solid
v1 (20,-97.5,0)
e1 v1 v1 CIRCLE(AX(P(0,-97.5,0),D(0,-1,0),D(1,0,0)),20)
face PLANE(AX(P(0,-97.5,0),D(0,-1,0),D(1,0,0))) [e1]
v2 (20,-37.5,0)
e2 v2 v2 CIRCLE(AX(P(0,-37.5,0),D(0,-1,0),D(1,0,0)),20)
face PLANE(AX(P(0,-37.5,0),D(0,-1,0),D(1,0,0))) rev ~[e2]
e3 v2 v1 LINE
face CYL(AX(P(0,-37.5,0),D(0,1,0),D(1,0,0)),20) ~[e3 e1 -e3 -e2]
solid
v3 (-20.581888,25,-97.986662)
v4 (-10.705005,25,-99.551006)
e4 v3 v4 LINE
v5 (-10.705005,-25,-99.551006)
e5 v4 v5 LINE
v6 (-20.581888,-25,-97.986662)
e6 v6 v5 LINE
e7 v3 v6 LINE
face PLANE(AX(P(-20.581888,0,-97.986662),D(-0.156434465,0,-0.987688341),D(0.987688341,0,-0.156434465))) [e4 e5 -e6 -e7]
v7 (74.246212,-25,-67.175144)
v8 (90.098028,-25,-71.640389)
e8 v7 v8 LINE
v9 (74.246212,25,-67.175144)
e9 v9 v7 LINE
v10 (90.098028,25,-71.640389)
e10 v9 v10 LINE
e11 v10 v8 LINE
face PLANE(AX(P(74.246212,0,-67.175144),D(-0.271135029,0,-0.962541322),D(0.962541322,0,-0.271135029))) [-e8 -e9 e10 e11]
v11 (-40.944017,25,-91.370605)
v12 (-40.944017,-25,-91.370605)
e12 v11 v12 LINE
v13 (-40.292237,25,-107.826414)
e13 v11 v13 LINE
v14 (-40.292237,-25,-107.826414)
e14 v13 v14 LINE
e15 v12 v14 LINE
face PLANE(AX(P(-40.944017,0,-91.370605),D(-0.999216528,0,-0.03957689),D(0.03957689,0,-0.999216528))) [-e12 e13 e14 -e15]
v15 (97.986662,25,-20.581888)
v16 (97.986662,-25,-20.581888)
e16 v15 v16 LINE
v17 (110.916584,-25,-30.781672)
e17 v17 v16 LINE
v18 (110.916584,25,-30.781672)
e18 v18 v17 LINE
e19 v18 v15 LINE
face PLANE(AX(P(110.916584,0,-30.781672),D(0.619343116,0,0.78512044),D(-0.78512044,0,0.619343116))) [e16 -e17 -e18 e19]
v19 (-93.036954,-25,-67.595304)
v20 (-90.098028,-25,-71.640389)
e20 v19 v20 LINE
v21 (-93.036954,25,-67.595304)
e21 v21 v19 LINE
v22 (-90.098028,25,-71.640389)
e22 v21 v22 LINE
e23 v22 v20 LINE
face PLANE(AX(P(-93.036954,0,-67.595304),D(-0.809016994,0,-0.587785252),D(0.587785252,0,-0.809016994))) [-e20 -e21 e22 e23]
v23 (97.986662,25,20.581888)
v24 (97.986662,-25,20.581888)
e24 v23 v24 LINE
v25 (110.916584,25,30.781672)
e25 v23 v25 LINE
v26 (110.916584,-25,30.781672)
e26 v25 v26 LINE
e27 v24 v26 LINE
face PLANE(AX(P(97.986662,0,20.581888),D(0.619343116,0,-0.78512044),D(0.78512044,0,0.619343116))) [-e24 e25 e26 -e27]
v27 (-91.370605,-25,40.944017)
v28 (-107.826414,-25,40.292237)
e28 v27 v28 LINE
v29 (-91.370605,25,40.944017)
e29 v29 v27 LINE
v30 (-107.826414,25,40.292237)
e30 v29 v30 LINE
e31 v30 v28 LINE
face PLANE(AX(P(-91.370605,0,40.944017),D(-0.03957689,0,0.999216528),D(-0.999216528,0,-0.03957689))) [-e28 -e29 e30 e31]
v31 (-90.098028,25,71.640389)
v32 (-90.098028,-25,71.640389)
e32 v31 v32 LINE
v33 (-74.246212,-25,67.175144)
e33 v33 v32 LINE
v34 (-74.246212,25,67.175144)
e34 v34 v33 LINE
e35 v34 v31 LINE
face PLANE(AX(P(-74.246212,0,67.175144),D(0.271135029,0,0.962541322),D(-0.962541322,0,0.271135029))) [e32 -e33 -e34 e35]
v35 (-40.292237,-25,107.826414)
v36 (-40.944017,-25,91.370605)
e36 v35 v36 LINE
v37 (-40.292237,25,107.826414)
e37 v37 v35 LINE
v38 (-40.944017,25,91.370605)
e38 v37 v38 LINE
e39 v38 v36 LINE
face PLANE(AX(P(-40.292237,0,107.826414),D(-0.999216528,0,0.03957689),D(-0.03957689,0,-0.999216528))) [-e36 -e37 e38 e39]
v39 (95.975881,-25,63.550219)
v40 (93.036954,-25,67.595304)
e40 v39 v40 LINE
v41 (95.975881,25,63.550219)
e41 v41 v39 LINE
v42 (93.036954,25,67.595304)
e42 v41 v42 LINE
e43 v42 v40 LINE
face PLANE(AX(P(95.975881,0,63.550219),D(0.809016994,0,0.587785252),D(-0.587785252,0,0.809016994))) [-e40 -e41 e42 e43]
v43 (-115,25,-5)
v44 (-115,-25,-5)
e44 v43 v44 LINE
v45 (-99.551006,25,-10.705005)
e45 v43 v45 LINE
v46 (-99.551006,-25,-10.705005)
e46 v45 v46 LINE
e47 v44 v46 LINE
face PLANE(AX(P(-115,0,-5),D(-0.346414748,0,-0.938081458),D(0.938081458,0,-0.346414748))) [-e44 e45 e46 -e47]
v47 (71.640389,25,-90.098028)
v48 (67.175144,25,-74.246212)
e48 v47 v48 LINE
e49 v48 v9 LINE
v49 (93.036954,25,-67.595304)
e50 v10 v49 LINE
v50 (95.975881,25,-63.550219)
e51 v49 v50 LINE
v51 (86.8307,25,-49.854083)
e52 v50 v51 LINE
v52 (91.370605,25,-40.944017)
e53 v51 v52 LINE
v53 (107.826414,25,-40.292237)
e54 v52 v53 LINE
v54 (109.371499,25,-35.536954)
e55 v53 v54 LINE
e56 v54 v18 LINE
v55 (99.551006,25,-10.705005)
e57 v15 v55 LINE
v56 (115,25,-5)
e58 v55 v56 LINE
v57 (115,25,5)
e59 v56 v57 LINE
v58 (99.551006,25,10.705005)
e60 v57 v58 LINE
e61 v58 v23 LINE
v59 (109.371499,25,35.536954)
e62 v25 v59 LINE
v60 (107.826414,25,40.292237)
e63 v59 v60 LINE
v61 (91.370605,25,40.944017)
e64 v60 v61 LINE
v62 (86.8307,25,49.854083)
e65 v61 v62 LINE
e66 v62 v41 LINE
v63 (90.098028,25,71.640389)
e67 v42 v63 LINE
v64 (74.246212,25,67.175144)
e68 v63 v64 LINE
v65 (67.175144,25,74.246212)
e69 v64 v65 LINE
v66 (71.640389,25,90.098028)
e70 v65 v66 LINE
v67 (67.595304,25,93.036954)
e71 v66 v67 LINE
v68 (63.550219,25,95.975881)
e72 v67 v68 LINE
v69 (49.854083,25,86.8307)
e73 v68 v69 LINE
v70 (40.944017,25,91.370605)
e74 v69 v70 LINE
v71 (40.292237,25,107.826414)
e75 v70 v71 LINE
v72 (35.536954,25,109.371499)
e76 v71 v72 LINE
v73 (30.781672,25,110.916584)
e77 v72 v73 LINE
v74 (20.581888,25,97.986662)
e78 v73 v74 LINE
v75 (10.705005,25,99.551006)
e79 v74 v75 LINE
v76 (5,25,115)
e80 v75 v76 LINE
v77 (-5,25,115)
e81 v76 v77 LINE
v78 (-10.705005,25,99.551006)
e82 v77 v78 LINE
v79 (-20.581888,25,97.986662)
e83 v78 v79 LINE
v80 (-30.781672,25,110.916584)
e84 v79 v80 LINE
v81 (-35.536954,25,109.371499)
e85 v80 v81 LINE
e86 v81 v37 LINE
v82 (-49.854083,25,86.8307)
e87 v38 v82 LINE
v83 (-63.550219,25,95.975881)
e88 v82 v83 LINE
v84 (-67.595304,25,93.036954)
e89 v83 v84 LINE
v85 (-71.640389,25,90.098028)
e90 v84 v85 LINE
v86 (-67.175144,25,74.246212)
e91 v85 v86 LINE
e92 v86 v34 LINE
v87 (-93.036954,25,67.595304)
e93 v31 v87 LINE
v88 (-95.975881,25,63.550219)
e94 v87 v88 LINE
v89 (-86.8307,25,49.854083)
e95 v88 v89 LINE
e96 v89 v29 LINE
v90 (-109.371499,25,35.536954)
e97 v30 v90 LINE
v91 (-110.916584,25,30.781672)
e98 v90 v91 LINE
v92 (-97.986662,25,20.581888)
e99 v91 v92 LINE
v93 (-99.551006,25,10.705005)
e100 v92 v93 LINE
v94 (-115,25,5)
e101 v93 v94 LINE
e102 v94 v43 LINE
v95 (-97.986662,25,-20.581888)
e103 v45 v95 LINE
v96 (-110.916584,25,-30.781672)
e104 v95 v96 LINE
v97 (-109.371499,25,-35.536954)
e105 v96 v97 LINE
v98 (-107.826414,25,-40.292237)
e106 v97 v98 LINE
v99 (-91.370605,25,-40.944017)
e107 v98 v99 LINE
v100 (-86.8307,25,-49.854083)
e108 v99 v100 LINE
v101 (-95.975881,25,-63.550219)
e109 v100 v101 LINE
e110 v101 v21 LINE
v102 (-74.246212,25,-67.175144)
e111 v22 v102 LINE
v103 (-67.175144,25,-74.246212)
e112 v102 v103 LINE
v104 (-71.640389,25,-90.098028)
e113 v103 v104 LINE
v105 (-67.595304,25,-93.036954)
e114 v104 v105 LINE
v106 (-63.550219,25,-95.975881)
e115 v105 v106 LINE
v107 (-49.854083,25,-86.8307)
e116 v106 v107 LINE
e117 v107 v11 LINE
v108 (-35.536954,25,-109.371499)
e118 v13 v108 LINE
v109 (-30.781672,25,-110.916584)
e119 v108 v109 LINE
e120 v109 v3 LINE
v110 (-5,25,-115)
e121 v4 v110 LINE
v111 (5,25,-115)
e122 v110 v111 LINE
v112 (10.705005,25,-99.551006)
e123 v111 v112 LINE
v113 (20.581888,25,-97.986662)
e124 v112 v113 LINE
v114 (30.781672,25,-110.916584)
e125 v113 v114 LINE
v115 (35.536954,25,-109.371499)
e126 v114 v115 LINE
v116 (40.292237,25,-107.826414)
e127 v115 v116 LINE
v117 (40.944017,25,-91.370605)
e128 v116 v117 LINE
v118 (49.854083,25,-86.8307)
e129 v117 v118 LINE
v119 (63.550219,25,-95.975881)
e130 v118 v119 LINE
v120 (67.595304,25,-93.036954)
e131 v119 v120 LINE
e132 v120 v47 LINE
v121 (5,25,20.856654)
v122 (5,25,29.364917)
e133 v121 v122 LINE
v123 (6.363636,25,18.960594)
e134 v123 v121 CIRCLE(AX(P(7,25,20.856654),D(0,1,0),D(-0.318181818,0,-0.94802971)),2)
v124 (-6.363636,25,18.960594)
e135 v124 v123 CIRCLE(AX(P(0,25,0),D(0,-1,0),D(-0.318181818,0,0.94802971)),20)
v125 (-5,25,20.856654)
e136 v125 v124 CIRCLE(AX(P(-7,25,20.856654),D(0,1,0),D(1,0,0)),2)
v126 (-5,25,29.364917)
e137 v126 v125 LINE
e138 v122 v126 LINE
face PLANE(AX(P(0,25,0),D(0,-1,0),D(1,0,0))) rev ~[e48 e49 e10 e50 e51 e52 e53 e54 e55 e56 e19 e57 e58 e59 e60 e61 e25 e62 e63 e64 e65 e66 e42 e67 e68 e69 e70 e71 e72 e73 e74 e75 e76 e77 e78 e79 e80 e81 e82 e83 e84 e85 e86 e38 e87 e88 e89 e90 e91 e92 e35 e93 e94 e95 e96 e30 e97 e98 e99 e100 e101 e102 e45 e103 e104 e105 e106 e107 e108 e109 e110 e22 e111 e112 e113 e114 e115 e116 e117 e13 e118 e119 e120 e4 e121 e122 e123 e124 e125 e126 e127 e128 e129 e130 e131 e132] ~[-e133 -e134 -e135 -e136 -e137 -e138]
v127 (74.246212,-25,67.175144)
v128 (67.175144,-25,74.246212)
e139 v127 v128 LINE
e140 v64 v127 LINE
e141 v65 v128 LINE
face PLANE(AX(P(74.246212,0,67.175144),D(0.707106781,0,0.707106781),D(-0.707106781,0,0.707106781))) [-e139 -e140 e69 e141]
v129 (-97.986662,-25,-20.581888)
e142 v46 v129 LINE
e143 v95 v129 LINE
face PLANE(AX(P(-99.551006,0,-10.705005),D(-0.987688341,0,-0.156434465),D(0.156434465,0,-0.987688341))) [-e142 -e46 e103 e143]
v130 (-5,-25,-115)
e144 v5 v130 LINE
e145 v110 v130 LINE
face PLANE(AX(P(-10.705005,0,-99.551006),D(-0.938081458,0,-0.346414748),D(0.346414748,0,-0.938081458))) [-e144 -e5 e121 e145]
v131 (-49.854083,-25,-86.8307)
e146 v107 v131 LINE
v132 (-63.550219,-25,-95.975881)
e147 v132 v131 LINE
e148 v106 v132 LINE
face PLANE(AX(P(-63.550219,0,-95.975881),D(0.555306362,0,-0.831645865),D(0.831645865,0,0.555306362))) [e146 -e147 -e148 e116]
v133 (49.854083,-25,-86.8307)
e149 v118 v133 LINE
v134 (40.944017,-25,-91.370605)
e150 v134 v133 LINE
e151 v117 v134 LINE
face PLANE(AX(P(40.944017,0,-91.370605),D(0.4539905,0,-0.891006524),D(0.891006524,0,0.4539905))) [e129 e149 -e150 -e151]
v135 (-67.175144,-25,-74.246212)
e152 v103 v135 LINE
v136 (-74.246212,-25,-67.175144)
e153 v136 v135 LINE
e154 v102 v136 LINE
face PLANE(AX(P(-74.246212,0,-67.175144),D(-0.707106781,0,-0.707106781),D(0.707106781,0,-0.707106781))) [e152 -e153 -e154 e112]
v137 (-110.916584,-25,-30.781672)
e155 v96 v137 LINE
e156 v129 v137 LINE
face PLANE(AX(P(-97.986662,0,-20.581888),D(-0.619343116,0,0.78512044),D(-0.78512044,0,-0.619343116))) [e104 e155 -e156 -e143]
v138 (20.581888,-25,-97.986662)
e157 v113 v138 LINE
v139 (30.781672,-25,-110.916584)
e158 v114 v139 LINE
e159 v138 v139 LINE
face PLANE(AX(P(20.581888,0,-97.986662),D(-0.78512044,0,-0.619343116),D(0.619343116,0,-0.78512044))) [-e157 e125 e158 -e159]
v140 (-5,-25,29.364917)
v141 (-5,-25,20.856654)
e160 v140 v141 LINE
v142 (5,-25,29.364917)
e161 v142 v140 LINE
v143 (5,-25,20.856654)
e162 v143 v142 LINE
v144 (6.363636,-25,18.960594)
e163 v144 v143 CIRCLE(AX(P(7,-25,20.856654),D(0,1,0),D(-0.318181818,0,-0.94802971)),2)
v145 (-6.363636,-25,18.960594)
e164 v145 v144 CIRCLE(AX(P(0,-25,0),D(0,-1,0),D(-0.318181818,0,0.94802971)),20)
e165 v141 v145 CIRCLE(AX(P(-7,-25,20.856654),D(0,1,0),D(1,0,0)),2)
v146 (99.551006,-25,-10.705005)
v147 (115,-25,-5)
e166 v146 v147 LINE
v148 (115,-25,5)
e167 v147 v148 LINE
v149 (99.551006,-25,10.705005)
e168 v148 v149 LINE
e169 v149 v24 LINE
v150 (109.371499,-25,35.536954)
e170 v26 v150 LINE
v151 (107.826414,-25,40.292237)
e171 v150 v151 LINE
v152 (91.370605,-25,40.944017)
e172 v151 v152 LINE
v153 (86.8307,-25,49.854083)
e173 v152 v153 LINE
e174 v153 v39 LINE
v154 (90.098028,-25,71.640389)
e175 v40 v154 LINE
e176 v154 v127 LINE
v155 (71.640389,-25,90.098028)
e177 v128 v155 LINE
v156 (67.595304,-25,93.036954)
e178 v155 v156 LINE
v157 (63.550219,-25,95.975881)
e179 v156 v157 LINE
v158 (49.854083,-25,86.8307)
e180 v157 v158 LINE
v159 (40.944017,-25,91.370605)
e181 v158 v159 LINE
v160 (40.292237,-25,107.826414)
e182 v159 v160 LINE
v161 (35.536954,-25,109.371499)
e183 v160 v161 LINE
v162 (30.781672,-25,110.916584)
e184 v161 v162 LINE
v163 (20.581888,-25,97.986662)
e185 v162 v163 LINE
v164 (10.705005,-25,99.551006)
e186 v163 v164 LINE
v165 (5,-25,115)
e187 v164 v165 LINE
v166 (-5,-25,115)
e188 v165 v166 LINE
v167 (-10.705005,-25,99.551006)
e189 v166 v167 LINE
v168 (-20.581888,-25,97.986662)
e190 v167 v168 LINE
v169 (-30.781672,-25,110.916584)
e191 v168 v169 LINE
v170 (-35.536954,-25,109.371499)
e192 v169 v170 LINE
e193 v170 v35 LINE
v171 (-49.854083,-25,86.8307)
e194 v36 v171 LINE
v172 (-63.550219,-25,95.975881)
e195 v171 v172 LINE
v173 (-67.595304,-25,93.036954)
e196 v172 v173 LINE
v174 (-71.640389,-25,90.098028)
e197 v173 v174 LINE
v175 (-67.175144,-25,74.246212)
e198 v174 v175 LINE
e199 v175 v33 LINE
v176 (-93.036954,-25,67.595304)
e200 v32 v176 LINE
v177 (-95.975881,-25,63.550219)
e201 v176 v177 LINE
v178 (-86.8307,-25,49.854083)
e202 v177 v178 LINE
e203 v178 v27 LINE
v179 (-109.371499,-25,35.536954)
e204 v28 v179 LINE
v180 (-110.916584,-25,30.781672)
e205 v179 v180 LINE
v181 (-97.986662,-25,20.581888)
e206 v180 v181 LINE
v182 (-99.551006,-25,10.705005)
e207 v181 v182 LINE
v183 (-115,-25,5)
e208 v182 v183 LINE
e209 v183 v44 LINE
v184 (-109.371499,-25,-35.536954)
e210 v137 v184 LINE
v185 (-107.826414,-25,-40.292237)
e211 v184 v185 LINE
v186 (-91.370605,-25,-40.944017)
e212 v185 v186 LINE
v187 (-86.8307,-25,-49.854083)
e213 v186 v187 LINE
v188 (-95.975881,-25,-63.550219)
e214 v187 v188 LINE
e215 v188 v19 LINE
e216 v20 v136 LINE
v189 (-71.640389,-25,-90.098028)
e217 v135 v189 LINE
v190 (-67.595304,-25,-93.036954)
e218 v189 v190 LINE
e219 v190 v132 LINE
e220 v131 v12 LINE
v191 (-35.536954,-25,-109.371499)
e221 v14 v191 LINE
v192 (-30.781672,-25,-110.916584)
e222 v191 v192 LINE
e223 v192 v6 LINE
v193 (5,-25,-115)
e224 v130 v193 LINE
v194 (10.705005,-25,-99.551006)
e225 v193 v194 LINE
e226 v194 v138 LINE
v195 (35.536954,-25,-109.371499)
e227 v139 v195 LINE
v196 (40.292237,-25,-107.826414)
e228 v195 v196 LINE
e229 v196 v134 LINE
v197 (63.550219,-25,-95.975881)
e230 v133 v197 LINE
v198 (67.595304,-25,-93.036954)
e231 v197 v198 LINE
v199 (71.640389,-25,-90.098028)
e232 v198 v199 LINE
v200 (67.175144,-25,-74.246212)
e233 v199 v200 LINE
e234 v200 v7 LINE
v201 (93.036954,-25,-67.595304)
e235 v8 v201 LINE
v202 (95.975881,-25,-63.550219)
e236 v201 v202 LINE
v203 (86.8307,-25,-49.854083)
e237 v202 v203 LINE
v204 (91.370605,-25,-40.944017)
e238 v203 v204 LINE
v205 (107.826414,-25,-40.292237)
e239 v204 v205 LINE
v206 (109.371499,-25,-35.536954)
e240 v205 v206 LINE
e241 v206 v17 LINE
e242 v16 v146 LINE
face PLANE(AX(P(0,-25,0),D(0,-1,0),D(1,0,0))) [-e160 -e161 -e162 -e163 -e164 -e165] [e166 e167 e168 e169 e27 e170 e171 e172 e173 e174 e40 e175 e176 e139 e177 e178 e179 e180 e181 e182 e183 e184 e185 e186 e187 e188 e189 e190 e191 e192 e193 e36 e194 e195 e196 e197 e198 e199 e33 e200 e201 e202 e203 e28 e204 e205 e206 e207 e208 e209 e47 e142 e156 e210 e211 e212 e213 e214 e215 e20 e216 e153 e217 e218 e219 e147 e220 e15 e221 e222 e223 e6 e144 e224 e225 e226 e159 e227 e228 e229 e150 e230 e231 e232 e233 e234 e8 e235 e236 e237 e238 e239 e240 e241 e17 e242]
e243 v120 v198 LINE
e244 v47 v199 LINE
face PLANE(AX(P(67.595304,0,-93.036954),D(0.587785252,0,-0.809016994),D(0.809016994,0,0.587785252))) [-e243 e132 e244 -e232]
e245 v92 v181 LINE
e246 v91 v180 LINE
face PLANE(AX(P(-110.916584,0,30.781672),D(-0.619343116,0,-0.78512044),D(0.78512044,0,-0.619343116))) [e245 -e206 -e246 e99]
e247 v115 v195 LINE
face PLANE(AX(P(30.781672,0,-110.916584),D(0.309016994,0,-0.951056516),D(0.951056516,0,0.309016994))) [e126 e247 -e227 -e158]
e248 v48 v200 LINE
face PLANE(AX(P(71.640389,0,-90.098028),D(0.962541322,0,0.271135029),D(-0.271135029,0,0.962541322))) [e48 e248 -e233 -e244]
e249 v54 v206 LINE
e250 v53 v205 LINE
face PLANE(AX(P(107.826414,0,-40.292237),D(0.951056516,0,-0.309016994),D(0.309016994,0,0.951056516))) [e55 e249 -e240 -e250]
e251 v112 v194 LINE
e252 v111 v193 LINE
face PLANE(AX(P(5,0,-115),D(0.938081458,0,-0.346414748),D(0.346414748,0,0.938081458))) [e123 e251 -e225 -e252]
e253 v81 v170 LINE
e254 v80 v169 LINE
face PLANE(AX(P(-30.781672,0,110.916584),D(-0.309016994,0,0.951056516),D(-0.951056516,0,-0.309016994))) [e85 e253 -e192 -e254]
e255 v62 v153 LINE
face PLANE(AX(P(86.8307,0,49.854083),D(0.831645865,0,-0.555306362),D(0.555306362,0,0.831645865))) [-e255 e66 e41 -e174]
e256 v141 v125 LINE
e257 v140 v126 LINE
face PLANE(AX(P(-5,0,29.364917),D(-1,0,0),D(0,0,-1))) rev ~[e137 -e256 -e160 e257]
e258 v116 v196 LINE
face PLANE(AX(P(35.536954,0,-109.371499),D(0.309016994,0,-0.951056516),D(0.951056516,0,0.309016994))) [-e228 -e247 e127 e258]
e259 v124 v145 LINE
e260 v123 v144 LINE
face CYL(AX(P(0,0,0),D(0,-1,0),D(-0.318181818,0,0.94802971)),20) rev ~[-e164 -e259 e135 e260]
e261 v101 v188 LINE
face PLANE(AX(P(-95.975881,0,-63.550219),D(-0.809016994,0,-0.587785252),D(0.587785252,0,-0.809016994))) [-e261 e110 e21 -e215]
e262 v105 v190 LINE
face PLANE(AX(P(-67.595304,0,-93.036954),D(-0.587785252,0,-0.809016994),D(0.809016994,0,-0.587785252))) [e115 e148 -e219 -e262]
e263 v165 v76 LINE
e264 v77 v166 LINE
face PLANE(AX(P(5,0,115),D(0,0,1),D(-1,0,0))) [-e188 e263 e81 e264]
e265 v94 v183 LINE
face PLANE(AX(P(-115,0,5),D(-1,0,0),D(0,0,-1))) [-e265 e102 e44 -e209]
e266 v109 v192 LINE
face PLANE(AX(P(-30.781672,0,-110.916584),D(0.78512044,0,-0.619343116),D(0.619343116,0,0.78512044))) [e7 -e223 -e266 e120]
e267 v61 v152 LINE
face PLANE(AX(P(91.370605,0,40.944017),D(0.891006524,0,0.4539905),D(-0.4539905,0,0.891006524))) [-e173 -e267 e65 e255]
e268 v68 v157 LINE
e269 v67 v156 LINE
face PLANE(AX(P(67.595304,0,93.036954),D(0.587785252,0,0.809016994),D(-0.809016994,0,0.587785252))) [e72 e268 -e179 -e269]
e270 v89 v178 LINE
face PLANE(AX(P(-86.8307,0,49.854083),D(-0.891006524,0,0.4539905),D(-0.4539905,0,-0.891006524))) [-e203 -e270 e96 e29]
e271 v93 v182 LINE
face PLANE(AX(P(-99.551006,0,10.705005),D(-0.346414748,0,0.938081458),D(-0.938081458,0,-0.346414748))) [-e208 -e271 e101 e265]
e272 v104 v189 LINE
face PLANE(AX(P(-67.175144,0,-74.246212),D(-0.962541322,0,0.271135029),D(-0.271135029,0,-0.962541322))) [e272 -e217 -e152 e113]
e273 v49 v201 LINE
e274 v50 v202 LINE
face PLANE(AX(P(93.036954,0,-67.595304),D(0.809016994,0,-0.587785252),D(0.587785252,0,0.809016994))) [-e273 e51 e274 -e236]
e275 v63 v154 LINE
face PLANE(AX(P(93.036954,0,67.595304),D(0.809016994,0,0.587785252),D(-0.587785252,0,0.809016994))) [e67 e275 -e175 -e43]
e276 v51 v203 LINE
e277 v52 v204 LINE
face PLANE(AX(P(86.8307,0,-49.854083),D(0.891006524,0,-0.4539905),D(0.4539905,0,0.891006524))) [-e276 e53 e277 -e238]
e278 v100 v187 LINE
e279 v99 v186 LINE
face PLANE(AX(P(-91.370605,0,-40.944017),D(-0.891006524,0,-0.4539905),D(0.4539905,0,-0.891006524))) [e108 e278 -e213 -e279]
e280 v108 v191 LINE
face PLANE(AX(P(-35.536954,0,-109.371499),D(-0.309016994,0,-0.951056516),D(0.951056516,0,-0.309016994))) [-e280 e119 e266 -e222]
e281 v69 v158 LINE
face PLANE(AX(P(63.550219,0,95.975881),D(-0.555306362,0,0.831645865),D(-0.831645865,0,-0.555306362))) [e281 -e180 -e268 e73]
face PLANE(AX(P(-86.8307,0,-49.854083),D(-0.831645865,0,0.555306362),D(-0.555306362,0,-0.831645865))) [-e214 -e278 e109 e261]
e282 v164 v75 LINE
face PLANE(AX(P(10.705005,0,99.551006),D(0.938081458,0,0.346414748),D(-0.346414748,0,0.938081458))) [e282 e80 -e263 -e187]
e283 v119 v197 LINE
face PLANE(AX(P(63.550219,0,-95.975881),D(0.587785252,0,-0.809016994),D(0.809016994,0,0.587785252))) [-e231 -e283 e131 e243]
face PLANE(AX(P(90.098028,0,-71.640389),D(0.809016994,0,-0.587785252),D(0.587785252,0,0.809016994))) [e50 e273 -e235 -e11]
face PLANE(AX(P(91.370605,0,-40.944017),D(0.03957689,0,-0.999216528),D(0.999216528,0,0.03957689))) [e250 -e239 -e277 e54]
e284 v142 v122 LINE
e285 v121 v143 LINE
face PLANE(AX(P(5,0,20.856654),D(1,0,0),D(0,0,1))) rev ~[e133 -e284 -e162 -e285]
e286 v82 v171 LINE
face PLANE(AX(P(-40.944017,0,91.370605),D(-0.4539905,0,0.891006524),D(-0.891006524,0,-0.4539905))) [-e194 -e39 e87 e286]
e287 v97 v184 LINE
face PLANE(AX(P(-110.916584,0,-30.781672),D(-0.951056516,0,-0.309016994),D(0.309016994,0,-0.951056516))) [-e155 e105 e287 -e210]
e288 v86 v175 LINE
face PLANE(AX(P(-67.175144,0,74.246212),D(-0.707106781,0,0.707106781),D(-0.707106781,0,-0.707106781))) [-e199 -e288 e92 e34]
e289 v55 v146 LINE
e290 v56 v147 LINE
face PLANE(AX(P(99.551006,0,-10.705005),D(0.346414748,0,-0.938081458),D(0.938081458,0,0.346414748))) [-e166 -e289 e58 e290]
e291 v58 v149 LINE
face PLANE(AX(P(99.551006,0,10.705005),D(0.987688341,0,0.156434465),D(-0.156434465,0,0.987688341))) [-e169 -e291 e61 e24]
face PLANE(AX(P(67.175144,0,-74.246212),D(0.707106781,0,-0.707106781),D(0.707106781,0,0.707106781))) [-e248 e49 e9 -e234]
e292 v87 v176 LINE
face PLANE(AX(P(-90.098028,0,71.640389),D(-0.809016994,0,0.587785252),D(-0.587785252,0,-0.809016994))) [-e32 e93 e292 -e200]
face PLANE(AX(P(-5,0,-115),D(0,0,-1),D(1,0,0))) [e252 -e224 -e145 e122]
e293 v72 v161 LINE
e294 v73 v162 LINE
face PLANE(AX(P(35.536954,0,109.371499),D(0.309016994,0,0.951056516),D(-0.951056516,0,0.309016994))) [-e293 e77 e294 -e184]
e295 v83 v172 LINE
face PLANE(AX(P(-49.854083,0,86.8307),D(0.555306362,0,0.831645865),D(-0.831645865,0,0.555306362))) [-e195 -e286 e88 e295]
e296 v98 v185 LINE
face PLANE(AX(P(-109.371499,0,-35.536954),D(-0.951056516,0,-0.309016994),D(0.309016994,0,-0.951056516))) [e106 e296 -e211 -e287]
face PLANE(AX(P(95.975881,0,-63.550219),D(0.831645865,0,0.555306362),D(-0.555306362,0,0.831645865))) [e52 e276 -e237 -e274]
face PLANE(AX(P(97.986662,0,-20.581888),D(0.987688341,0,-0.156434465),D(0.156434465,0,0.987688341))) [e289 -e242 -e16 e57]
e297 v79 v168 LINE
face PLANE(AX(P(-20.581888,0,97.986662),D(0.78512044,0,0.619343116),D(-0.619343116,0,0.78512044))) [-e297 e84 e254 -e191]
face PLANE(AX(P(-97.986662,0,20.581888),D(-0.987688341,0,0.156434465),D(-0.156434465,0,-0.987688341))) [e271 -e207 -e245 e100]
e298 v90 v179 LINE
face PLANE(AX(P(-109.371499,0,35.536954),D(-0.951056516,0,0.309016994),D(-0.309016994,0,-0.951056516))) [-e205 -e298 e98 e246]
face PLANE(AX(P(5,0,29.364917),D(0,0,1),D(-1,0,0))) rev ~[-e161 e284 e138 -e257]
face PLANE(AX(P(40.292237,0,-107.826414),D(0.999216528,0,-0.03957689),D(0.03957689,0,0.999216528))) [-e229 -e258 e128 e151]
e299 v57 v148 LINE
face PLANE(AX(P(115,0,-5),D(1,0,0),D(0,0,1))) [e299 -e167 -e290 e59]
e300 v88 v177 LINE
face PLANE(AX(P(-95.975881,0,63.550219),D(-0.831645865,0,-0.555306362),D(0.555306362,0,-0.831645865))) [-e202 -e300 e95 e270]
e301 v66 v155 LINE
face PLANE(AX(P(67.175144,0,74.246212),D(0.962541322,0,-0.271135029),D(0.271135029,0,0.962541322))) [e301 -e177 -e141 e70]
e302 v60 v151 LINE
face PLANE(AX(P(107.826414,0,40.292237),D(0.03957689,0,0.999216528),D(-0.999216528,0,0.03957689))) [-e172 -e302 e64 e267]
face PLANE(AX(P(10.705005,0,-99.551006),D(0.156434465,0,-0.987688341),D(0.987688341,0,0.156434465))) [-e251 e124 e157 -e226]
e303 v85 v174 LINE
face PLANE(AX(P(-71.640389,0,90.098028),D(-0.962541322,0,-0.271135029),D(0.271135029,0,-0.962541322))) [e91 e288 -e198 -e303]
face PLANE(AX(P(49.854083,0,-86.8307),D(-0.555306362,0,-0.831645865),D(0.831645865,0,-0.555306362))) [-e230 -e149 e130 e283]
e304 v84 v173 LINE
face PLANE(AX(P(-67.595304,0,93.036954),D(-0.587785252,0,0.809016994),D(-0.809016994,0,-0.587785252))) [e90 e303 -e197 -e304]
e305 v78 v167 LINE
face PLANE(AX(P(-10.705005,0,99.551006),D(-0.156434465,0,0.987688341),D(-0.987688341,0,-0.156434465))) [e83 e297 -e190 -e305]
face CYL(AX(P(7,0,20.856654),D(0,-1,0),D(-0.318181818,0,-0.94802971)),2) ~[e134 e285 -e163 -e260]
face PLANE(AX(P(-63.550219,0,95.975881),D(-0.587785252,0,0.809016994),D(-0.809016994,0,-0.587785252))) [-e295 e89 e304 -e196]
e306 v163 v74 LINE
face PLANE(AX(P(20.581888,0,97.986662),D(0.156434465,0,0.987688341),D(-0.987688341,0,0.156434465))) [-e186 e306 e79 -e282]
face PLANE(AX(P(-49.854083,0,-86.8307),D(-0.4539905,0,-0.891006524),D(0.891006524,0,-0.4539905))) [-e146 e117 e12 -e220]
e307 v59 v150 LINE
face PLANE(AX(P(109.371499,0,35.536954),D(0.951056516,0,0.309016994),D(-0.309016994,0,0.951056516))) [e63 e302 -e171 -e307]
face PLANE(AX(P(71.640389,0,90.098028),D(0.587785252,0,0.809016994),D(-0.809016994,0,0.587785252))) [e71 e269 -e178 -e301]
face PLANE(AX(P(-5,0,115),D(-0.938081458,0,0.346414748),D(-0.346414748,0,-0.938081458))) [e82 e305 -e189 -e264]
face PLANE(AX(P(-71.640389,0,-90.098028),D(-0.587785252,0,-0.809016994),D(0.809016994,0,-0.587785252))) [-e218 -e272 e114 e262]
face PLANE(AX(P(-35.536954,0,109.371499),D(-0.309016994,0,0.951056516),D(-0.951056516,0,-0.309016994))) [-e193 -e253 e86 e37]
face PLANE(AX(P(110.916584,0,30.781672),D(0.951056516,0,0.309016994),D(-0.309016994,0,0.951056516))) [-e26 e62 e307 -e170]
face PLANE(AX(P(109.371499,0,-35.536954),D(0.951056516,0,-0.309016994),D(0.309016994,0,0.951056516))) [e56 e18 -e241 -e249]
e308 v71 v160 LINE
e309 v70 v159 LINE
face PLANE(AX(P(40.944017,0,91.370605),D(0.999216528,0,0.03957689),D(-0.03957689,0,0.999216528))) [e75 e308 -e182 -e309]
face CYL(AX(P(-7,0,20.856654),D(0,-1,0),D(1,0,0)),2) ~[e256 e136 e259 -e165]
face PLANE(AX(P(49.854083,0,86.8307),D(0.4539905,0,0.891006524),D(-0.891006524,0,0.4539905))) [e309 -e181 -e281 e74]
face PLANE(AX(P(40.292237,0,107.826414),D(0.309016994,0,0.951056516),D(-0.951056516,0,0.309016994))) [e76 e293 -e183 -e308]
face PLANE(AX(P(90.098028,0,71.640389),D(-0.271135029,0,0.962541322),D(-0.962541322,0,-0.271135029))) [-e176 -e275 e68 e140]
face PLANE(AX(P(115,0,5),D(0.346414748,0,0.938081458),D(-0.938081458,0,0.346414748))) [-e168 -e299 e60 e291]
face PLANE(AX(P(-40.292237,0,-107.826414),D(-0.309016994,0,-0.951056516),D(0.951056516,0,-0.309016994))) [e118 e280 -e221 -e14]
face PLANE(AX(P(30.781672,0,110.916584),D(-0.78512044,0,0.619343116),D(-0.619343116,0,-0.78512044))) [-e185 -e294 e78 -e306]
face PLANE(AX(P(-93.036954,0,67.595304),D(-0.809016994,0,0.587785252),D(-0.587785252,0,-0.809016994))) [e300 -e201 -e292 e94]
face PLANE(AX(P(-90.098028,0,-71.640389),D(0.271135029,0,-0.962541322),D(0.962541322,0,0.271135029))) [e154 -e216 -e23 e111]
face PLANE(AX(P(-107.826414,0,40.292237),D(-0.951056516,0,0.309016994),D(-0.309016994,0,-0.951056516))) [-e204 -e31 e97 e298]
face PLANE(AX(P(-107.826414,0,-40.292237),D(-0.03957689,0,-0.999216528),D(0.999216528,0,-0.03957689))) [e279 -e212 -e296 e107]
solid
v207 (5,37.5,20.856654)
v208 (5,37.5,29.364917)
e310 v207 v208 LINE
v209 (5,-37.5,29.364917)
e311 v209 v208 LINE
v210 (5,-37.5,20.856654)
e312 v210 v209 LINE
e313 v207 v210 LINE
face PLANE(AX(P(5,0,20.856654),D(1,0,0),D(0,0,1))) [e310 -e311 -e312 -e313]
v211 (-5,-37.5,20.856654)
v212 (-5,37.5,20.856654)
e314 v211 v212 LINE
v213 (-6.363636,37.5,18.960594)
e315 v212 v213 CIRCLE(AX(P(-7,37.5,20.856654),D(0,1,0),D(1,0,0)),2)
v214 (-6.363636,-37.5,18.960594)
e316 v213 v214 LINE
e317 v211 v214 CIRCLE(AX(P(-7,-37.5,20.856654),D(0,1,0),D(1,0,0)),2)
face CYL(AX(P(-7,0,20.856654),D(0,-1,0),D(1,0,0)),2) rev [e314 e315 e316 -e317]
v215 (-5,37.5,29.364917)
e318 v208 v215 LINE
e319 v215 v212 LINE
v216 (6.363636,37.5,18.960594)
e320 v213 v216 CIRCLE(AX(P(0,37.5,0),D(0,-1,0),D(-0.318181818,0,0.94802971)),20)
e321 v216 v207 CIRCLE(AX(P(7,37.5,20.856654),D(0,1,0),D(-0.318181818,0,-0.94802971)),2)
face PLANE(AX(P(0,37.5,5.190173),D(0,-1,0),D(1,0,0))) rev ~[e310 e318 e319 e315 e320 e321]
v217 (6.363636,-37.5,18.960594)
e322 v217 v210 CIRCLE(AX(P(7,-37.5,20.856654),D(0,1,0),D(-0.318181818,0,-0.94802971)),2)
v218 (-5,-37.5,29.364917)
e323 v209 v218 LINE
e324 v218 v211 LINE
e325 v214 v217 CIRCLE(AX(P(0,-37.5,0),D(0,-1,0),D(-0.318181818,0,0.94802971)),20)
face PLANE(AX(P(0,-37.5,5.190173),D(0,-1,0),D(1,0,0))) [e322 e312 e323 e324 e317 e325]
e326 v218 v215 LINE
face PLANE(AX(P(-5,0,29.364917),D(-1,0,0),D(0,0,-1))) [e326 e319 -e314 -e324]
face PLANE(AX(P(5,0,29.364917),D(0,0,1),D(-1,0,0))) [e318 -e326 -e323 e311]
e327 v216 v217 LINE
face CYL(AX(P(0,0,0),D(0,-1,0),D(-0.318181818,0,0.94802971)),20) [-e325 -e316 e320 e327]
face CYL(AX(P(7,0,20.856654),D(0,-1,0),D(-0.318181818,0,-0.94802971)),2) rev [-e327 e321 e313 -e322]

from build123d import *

# Parameters (mm, degrees)
F1_DEPTH = 25
F3_DEPTH = 25
F4_DEPTH = 37.5
F5_R     = 20
F6_DEPTH = 60


with BuildPart() as f1:
    # F0 (on Front) → F1 (new body, symmetric)
    with BuildSketch(Plane.XZ):
        Polygon((5, 115), (0, 115), (-5, 115), (-10.705004801, 99.5510063847), (-20.581888207, 97.9866617343), (-30.7816717716, 110.9165843458), (-35.5369543531, 109.3714993739), (-40.2922369346, 107.8264144021), (-40.944017353, 91.3706049175), (-49.8540825949, 86.8306999201), (-63.5502190418, 95.9758806146), (-67.5953040136, 93.0369543531), (-71.6403889855, 90.0980280917), (-67.1751442127, 74.2462120246), (-74.2462120246, 67.1751442127), (-90.0980280917, 71.6403889855), (-93.0369543531, 67.5953040136), (-95.9758806146, 63.5502190418), (-86.8306999201, 49.8540825949), (-91.3706049175, 40.944017353), (-107.8264144021, 40.2922369346), (-109.3714993739, 35.5369543531), (-110.9165843458, 30.7816717716), (-97.9866617343, 20.581888207), (-99.5510063847, 10.705004801), (-115, 5), (-115, 0), (-115, -5), (-99.5510063847, -10.705004801), (-97.9866617343, -20.581888207), (-110.9165843458, -30.7816717716), (-109.3714993739, -35.5369543531), (-107.8264144021, -40.2922369346), (-91.3706049175, -40.944017353), (-86.8306999201, -49.8540825949), (-95.9758806146, -63.5502190418), (-93.0369543531, -67.5953040136), (-90.0980280917, -71.6403889855), (-74.2462120246, -67.1751442127), (-67.1751442127, -74.2462120246), (-71.6403889855, -90.0980280917), (-67.5953040136, -93.0369543531), (-63.5502190418, -95.9758806146), (-49.8540825949, -86.8306999201), (-40.944017353, -91.3706049175), (-40.2922369346, -107.8264144021), (-35.5369543531, -109.3714993739), (-30.7816717716, -110.9165843458), (-20.581888207, -97.9866617343), (-10.705004801, -99.5510063847), (-5, -115), (0, -115), (5, -115), (10.705004801, -99.5510063847), (20.581888207, -97.9866617343), (30.7816717716, -110.9165843458), (35.5369543531, -109.3714993739), (40.2922369346, -107.8264144021), (40.944017353, -91.3706049175), (49.8540825949, -86.8306999201), (63.5502190418, -95.9758806146), (67.5953040136, -93.0369543531), (71.6403889855, -90.0980280917), (67.1751442127, -74.2462120246), (74.2462120246, -67.1751442127), (90.0980280917, -71.6403889855), (93.0369543531, -67.5953040136), (95.9758806146, -63.5502190418), (86.8306999201, -49.8540825949), (91.3706049175, -40.944017353), (107.8264144021, -40.2922369346), (109.3714993739, -35.5369543531), (110.9165843458, -30.7816717716), (97.9866617343, -20.581888207), (99.5510063847, -10.705004801), (115, -5), (115, 0), (115, 5), (99.5510063847, 10.705004801), (97.9866617343, 20.581888207), (110.9165843458, 30.7816717716), (109.3714993739, 35.5369543531), (107.8264144021, 40.2922369346), (91.3706049175, 40.944017353), (86.8306999201, 49.8540825949), (95.9758806146, 63.5502190418), (93.0369543531, 67.5953040136), (90.0980280917, 71.6403889855), (74.2462120246, 67.1751442127), (67.1751442127, 74.2462120246), (71.6403889855, 90.0980280917), (67.5953040136, 93.0369543531), (63.5502190418, 95.9758806146), (49.8540825949, 86.8306999201), (40.944017353, 91.3706049175), (40.2922369346, 107.8264144021), (35.5369543531, 109.3714993739), (30.7816717716, 110.9165843458), (20.581888207, 97.9866617343), (10.705004801, 99.5510063847), align=None)
    extrude(amount=F1_DEPTH, both=True)

    # F2 (on Front) → F3 (cut, symmetric)
    with BuildSketch(Plane.XZ):
        with BuildLine():
            ThreePointArc((-5, 20.8566536146), (-5.3763117182, 19.6889051984), (-6.3636363636, 18.9605941951))
            ThreePointArc((-6.3636363636, 18.9605941951), (0, -20), (6.3636363636, 18.9605941951))
            ThreePointArc((6.3636363636, 18.9605941951), (5.3763117182, 19.6889051984), (5, 20.8566536146))
            Line((5, 20.8566536146), (5, 29.364916731))
            Line((5, 29.364916731), (-5, 29.364916731))
            Line((-5, 29.364916731), (-5, 20.8566536146))
        make_face()
    extrude(amount=F3_DEPTH, both=True, mode=Mode.SUBTRACT)


with BuildPart() as f4:
    # F2 (on Front) → F4 (new body, symmetric)
    with BuildSketch(Plane.XZ):
        with BuildLine():
            ThreePointArc((-5, 20.8566536146), (-5.3763117182, 19.6889051984), (-6.3636363636, 18.9605941951))
            ThreePointArc((-6.3636363636, 18.9605941951), (0, -20), (6.3636363636, 18.9605941951))
            ThreePointArc((6.3636363636, 18.9605941951), (5.3763117182, 19.6889051984), (5, 20.8566536146))
            Line((5, 20.8566536146), (5, 29.364916731))
            Line((5, 29.364916731), (-5, 29.364916731))
            Line((-5, 29.364916731), (-5, 20.8566536146))
        make_face()
    extrude(amount=F4_DEPTH, both=True)


with BuildPart() as f6:
    # F5 (on face) → F6 (new body)
    with BuildSketch(Plane.XZ.offset(37.5)):
        Circle(F5_R)
    extrude(amount=F6_DEPTH)


solid = Compound([f1.part, f4.part, f6.part])
